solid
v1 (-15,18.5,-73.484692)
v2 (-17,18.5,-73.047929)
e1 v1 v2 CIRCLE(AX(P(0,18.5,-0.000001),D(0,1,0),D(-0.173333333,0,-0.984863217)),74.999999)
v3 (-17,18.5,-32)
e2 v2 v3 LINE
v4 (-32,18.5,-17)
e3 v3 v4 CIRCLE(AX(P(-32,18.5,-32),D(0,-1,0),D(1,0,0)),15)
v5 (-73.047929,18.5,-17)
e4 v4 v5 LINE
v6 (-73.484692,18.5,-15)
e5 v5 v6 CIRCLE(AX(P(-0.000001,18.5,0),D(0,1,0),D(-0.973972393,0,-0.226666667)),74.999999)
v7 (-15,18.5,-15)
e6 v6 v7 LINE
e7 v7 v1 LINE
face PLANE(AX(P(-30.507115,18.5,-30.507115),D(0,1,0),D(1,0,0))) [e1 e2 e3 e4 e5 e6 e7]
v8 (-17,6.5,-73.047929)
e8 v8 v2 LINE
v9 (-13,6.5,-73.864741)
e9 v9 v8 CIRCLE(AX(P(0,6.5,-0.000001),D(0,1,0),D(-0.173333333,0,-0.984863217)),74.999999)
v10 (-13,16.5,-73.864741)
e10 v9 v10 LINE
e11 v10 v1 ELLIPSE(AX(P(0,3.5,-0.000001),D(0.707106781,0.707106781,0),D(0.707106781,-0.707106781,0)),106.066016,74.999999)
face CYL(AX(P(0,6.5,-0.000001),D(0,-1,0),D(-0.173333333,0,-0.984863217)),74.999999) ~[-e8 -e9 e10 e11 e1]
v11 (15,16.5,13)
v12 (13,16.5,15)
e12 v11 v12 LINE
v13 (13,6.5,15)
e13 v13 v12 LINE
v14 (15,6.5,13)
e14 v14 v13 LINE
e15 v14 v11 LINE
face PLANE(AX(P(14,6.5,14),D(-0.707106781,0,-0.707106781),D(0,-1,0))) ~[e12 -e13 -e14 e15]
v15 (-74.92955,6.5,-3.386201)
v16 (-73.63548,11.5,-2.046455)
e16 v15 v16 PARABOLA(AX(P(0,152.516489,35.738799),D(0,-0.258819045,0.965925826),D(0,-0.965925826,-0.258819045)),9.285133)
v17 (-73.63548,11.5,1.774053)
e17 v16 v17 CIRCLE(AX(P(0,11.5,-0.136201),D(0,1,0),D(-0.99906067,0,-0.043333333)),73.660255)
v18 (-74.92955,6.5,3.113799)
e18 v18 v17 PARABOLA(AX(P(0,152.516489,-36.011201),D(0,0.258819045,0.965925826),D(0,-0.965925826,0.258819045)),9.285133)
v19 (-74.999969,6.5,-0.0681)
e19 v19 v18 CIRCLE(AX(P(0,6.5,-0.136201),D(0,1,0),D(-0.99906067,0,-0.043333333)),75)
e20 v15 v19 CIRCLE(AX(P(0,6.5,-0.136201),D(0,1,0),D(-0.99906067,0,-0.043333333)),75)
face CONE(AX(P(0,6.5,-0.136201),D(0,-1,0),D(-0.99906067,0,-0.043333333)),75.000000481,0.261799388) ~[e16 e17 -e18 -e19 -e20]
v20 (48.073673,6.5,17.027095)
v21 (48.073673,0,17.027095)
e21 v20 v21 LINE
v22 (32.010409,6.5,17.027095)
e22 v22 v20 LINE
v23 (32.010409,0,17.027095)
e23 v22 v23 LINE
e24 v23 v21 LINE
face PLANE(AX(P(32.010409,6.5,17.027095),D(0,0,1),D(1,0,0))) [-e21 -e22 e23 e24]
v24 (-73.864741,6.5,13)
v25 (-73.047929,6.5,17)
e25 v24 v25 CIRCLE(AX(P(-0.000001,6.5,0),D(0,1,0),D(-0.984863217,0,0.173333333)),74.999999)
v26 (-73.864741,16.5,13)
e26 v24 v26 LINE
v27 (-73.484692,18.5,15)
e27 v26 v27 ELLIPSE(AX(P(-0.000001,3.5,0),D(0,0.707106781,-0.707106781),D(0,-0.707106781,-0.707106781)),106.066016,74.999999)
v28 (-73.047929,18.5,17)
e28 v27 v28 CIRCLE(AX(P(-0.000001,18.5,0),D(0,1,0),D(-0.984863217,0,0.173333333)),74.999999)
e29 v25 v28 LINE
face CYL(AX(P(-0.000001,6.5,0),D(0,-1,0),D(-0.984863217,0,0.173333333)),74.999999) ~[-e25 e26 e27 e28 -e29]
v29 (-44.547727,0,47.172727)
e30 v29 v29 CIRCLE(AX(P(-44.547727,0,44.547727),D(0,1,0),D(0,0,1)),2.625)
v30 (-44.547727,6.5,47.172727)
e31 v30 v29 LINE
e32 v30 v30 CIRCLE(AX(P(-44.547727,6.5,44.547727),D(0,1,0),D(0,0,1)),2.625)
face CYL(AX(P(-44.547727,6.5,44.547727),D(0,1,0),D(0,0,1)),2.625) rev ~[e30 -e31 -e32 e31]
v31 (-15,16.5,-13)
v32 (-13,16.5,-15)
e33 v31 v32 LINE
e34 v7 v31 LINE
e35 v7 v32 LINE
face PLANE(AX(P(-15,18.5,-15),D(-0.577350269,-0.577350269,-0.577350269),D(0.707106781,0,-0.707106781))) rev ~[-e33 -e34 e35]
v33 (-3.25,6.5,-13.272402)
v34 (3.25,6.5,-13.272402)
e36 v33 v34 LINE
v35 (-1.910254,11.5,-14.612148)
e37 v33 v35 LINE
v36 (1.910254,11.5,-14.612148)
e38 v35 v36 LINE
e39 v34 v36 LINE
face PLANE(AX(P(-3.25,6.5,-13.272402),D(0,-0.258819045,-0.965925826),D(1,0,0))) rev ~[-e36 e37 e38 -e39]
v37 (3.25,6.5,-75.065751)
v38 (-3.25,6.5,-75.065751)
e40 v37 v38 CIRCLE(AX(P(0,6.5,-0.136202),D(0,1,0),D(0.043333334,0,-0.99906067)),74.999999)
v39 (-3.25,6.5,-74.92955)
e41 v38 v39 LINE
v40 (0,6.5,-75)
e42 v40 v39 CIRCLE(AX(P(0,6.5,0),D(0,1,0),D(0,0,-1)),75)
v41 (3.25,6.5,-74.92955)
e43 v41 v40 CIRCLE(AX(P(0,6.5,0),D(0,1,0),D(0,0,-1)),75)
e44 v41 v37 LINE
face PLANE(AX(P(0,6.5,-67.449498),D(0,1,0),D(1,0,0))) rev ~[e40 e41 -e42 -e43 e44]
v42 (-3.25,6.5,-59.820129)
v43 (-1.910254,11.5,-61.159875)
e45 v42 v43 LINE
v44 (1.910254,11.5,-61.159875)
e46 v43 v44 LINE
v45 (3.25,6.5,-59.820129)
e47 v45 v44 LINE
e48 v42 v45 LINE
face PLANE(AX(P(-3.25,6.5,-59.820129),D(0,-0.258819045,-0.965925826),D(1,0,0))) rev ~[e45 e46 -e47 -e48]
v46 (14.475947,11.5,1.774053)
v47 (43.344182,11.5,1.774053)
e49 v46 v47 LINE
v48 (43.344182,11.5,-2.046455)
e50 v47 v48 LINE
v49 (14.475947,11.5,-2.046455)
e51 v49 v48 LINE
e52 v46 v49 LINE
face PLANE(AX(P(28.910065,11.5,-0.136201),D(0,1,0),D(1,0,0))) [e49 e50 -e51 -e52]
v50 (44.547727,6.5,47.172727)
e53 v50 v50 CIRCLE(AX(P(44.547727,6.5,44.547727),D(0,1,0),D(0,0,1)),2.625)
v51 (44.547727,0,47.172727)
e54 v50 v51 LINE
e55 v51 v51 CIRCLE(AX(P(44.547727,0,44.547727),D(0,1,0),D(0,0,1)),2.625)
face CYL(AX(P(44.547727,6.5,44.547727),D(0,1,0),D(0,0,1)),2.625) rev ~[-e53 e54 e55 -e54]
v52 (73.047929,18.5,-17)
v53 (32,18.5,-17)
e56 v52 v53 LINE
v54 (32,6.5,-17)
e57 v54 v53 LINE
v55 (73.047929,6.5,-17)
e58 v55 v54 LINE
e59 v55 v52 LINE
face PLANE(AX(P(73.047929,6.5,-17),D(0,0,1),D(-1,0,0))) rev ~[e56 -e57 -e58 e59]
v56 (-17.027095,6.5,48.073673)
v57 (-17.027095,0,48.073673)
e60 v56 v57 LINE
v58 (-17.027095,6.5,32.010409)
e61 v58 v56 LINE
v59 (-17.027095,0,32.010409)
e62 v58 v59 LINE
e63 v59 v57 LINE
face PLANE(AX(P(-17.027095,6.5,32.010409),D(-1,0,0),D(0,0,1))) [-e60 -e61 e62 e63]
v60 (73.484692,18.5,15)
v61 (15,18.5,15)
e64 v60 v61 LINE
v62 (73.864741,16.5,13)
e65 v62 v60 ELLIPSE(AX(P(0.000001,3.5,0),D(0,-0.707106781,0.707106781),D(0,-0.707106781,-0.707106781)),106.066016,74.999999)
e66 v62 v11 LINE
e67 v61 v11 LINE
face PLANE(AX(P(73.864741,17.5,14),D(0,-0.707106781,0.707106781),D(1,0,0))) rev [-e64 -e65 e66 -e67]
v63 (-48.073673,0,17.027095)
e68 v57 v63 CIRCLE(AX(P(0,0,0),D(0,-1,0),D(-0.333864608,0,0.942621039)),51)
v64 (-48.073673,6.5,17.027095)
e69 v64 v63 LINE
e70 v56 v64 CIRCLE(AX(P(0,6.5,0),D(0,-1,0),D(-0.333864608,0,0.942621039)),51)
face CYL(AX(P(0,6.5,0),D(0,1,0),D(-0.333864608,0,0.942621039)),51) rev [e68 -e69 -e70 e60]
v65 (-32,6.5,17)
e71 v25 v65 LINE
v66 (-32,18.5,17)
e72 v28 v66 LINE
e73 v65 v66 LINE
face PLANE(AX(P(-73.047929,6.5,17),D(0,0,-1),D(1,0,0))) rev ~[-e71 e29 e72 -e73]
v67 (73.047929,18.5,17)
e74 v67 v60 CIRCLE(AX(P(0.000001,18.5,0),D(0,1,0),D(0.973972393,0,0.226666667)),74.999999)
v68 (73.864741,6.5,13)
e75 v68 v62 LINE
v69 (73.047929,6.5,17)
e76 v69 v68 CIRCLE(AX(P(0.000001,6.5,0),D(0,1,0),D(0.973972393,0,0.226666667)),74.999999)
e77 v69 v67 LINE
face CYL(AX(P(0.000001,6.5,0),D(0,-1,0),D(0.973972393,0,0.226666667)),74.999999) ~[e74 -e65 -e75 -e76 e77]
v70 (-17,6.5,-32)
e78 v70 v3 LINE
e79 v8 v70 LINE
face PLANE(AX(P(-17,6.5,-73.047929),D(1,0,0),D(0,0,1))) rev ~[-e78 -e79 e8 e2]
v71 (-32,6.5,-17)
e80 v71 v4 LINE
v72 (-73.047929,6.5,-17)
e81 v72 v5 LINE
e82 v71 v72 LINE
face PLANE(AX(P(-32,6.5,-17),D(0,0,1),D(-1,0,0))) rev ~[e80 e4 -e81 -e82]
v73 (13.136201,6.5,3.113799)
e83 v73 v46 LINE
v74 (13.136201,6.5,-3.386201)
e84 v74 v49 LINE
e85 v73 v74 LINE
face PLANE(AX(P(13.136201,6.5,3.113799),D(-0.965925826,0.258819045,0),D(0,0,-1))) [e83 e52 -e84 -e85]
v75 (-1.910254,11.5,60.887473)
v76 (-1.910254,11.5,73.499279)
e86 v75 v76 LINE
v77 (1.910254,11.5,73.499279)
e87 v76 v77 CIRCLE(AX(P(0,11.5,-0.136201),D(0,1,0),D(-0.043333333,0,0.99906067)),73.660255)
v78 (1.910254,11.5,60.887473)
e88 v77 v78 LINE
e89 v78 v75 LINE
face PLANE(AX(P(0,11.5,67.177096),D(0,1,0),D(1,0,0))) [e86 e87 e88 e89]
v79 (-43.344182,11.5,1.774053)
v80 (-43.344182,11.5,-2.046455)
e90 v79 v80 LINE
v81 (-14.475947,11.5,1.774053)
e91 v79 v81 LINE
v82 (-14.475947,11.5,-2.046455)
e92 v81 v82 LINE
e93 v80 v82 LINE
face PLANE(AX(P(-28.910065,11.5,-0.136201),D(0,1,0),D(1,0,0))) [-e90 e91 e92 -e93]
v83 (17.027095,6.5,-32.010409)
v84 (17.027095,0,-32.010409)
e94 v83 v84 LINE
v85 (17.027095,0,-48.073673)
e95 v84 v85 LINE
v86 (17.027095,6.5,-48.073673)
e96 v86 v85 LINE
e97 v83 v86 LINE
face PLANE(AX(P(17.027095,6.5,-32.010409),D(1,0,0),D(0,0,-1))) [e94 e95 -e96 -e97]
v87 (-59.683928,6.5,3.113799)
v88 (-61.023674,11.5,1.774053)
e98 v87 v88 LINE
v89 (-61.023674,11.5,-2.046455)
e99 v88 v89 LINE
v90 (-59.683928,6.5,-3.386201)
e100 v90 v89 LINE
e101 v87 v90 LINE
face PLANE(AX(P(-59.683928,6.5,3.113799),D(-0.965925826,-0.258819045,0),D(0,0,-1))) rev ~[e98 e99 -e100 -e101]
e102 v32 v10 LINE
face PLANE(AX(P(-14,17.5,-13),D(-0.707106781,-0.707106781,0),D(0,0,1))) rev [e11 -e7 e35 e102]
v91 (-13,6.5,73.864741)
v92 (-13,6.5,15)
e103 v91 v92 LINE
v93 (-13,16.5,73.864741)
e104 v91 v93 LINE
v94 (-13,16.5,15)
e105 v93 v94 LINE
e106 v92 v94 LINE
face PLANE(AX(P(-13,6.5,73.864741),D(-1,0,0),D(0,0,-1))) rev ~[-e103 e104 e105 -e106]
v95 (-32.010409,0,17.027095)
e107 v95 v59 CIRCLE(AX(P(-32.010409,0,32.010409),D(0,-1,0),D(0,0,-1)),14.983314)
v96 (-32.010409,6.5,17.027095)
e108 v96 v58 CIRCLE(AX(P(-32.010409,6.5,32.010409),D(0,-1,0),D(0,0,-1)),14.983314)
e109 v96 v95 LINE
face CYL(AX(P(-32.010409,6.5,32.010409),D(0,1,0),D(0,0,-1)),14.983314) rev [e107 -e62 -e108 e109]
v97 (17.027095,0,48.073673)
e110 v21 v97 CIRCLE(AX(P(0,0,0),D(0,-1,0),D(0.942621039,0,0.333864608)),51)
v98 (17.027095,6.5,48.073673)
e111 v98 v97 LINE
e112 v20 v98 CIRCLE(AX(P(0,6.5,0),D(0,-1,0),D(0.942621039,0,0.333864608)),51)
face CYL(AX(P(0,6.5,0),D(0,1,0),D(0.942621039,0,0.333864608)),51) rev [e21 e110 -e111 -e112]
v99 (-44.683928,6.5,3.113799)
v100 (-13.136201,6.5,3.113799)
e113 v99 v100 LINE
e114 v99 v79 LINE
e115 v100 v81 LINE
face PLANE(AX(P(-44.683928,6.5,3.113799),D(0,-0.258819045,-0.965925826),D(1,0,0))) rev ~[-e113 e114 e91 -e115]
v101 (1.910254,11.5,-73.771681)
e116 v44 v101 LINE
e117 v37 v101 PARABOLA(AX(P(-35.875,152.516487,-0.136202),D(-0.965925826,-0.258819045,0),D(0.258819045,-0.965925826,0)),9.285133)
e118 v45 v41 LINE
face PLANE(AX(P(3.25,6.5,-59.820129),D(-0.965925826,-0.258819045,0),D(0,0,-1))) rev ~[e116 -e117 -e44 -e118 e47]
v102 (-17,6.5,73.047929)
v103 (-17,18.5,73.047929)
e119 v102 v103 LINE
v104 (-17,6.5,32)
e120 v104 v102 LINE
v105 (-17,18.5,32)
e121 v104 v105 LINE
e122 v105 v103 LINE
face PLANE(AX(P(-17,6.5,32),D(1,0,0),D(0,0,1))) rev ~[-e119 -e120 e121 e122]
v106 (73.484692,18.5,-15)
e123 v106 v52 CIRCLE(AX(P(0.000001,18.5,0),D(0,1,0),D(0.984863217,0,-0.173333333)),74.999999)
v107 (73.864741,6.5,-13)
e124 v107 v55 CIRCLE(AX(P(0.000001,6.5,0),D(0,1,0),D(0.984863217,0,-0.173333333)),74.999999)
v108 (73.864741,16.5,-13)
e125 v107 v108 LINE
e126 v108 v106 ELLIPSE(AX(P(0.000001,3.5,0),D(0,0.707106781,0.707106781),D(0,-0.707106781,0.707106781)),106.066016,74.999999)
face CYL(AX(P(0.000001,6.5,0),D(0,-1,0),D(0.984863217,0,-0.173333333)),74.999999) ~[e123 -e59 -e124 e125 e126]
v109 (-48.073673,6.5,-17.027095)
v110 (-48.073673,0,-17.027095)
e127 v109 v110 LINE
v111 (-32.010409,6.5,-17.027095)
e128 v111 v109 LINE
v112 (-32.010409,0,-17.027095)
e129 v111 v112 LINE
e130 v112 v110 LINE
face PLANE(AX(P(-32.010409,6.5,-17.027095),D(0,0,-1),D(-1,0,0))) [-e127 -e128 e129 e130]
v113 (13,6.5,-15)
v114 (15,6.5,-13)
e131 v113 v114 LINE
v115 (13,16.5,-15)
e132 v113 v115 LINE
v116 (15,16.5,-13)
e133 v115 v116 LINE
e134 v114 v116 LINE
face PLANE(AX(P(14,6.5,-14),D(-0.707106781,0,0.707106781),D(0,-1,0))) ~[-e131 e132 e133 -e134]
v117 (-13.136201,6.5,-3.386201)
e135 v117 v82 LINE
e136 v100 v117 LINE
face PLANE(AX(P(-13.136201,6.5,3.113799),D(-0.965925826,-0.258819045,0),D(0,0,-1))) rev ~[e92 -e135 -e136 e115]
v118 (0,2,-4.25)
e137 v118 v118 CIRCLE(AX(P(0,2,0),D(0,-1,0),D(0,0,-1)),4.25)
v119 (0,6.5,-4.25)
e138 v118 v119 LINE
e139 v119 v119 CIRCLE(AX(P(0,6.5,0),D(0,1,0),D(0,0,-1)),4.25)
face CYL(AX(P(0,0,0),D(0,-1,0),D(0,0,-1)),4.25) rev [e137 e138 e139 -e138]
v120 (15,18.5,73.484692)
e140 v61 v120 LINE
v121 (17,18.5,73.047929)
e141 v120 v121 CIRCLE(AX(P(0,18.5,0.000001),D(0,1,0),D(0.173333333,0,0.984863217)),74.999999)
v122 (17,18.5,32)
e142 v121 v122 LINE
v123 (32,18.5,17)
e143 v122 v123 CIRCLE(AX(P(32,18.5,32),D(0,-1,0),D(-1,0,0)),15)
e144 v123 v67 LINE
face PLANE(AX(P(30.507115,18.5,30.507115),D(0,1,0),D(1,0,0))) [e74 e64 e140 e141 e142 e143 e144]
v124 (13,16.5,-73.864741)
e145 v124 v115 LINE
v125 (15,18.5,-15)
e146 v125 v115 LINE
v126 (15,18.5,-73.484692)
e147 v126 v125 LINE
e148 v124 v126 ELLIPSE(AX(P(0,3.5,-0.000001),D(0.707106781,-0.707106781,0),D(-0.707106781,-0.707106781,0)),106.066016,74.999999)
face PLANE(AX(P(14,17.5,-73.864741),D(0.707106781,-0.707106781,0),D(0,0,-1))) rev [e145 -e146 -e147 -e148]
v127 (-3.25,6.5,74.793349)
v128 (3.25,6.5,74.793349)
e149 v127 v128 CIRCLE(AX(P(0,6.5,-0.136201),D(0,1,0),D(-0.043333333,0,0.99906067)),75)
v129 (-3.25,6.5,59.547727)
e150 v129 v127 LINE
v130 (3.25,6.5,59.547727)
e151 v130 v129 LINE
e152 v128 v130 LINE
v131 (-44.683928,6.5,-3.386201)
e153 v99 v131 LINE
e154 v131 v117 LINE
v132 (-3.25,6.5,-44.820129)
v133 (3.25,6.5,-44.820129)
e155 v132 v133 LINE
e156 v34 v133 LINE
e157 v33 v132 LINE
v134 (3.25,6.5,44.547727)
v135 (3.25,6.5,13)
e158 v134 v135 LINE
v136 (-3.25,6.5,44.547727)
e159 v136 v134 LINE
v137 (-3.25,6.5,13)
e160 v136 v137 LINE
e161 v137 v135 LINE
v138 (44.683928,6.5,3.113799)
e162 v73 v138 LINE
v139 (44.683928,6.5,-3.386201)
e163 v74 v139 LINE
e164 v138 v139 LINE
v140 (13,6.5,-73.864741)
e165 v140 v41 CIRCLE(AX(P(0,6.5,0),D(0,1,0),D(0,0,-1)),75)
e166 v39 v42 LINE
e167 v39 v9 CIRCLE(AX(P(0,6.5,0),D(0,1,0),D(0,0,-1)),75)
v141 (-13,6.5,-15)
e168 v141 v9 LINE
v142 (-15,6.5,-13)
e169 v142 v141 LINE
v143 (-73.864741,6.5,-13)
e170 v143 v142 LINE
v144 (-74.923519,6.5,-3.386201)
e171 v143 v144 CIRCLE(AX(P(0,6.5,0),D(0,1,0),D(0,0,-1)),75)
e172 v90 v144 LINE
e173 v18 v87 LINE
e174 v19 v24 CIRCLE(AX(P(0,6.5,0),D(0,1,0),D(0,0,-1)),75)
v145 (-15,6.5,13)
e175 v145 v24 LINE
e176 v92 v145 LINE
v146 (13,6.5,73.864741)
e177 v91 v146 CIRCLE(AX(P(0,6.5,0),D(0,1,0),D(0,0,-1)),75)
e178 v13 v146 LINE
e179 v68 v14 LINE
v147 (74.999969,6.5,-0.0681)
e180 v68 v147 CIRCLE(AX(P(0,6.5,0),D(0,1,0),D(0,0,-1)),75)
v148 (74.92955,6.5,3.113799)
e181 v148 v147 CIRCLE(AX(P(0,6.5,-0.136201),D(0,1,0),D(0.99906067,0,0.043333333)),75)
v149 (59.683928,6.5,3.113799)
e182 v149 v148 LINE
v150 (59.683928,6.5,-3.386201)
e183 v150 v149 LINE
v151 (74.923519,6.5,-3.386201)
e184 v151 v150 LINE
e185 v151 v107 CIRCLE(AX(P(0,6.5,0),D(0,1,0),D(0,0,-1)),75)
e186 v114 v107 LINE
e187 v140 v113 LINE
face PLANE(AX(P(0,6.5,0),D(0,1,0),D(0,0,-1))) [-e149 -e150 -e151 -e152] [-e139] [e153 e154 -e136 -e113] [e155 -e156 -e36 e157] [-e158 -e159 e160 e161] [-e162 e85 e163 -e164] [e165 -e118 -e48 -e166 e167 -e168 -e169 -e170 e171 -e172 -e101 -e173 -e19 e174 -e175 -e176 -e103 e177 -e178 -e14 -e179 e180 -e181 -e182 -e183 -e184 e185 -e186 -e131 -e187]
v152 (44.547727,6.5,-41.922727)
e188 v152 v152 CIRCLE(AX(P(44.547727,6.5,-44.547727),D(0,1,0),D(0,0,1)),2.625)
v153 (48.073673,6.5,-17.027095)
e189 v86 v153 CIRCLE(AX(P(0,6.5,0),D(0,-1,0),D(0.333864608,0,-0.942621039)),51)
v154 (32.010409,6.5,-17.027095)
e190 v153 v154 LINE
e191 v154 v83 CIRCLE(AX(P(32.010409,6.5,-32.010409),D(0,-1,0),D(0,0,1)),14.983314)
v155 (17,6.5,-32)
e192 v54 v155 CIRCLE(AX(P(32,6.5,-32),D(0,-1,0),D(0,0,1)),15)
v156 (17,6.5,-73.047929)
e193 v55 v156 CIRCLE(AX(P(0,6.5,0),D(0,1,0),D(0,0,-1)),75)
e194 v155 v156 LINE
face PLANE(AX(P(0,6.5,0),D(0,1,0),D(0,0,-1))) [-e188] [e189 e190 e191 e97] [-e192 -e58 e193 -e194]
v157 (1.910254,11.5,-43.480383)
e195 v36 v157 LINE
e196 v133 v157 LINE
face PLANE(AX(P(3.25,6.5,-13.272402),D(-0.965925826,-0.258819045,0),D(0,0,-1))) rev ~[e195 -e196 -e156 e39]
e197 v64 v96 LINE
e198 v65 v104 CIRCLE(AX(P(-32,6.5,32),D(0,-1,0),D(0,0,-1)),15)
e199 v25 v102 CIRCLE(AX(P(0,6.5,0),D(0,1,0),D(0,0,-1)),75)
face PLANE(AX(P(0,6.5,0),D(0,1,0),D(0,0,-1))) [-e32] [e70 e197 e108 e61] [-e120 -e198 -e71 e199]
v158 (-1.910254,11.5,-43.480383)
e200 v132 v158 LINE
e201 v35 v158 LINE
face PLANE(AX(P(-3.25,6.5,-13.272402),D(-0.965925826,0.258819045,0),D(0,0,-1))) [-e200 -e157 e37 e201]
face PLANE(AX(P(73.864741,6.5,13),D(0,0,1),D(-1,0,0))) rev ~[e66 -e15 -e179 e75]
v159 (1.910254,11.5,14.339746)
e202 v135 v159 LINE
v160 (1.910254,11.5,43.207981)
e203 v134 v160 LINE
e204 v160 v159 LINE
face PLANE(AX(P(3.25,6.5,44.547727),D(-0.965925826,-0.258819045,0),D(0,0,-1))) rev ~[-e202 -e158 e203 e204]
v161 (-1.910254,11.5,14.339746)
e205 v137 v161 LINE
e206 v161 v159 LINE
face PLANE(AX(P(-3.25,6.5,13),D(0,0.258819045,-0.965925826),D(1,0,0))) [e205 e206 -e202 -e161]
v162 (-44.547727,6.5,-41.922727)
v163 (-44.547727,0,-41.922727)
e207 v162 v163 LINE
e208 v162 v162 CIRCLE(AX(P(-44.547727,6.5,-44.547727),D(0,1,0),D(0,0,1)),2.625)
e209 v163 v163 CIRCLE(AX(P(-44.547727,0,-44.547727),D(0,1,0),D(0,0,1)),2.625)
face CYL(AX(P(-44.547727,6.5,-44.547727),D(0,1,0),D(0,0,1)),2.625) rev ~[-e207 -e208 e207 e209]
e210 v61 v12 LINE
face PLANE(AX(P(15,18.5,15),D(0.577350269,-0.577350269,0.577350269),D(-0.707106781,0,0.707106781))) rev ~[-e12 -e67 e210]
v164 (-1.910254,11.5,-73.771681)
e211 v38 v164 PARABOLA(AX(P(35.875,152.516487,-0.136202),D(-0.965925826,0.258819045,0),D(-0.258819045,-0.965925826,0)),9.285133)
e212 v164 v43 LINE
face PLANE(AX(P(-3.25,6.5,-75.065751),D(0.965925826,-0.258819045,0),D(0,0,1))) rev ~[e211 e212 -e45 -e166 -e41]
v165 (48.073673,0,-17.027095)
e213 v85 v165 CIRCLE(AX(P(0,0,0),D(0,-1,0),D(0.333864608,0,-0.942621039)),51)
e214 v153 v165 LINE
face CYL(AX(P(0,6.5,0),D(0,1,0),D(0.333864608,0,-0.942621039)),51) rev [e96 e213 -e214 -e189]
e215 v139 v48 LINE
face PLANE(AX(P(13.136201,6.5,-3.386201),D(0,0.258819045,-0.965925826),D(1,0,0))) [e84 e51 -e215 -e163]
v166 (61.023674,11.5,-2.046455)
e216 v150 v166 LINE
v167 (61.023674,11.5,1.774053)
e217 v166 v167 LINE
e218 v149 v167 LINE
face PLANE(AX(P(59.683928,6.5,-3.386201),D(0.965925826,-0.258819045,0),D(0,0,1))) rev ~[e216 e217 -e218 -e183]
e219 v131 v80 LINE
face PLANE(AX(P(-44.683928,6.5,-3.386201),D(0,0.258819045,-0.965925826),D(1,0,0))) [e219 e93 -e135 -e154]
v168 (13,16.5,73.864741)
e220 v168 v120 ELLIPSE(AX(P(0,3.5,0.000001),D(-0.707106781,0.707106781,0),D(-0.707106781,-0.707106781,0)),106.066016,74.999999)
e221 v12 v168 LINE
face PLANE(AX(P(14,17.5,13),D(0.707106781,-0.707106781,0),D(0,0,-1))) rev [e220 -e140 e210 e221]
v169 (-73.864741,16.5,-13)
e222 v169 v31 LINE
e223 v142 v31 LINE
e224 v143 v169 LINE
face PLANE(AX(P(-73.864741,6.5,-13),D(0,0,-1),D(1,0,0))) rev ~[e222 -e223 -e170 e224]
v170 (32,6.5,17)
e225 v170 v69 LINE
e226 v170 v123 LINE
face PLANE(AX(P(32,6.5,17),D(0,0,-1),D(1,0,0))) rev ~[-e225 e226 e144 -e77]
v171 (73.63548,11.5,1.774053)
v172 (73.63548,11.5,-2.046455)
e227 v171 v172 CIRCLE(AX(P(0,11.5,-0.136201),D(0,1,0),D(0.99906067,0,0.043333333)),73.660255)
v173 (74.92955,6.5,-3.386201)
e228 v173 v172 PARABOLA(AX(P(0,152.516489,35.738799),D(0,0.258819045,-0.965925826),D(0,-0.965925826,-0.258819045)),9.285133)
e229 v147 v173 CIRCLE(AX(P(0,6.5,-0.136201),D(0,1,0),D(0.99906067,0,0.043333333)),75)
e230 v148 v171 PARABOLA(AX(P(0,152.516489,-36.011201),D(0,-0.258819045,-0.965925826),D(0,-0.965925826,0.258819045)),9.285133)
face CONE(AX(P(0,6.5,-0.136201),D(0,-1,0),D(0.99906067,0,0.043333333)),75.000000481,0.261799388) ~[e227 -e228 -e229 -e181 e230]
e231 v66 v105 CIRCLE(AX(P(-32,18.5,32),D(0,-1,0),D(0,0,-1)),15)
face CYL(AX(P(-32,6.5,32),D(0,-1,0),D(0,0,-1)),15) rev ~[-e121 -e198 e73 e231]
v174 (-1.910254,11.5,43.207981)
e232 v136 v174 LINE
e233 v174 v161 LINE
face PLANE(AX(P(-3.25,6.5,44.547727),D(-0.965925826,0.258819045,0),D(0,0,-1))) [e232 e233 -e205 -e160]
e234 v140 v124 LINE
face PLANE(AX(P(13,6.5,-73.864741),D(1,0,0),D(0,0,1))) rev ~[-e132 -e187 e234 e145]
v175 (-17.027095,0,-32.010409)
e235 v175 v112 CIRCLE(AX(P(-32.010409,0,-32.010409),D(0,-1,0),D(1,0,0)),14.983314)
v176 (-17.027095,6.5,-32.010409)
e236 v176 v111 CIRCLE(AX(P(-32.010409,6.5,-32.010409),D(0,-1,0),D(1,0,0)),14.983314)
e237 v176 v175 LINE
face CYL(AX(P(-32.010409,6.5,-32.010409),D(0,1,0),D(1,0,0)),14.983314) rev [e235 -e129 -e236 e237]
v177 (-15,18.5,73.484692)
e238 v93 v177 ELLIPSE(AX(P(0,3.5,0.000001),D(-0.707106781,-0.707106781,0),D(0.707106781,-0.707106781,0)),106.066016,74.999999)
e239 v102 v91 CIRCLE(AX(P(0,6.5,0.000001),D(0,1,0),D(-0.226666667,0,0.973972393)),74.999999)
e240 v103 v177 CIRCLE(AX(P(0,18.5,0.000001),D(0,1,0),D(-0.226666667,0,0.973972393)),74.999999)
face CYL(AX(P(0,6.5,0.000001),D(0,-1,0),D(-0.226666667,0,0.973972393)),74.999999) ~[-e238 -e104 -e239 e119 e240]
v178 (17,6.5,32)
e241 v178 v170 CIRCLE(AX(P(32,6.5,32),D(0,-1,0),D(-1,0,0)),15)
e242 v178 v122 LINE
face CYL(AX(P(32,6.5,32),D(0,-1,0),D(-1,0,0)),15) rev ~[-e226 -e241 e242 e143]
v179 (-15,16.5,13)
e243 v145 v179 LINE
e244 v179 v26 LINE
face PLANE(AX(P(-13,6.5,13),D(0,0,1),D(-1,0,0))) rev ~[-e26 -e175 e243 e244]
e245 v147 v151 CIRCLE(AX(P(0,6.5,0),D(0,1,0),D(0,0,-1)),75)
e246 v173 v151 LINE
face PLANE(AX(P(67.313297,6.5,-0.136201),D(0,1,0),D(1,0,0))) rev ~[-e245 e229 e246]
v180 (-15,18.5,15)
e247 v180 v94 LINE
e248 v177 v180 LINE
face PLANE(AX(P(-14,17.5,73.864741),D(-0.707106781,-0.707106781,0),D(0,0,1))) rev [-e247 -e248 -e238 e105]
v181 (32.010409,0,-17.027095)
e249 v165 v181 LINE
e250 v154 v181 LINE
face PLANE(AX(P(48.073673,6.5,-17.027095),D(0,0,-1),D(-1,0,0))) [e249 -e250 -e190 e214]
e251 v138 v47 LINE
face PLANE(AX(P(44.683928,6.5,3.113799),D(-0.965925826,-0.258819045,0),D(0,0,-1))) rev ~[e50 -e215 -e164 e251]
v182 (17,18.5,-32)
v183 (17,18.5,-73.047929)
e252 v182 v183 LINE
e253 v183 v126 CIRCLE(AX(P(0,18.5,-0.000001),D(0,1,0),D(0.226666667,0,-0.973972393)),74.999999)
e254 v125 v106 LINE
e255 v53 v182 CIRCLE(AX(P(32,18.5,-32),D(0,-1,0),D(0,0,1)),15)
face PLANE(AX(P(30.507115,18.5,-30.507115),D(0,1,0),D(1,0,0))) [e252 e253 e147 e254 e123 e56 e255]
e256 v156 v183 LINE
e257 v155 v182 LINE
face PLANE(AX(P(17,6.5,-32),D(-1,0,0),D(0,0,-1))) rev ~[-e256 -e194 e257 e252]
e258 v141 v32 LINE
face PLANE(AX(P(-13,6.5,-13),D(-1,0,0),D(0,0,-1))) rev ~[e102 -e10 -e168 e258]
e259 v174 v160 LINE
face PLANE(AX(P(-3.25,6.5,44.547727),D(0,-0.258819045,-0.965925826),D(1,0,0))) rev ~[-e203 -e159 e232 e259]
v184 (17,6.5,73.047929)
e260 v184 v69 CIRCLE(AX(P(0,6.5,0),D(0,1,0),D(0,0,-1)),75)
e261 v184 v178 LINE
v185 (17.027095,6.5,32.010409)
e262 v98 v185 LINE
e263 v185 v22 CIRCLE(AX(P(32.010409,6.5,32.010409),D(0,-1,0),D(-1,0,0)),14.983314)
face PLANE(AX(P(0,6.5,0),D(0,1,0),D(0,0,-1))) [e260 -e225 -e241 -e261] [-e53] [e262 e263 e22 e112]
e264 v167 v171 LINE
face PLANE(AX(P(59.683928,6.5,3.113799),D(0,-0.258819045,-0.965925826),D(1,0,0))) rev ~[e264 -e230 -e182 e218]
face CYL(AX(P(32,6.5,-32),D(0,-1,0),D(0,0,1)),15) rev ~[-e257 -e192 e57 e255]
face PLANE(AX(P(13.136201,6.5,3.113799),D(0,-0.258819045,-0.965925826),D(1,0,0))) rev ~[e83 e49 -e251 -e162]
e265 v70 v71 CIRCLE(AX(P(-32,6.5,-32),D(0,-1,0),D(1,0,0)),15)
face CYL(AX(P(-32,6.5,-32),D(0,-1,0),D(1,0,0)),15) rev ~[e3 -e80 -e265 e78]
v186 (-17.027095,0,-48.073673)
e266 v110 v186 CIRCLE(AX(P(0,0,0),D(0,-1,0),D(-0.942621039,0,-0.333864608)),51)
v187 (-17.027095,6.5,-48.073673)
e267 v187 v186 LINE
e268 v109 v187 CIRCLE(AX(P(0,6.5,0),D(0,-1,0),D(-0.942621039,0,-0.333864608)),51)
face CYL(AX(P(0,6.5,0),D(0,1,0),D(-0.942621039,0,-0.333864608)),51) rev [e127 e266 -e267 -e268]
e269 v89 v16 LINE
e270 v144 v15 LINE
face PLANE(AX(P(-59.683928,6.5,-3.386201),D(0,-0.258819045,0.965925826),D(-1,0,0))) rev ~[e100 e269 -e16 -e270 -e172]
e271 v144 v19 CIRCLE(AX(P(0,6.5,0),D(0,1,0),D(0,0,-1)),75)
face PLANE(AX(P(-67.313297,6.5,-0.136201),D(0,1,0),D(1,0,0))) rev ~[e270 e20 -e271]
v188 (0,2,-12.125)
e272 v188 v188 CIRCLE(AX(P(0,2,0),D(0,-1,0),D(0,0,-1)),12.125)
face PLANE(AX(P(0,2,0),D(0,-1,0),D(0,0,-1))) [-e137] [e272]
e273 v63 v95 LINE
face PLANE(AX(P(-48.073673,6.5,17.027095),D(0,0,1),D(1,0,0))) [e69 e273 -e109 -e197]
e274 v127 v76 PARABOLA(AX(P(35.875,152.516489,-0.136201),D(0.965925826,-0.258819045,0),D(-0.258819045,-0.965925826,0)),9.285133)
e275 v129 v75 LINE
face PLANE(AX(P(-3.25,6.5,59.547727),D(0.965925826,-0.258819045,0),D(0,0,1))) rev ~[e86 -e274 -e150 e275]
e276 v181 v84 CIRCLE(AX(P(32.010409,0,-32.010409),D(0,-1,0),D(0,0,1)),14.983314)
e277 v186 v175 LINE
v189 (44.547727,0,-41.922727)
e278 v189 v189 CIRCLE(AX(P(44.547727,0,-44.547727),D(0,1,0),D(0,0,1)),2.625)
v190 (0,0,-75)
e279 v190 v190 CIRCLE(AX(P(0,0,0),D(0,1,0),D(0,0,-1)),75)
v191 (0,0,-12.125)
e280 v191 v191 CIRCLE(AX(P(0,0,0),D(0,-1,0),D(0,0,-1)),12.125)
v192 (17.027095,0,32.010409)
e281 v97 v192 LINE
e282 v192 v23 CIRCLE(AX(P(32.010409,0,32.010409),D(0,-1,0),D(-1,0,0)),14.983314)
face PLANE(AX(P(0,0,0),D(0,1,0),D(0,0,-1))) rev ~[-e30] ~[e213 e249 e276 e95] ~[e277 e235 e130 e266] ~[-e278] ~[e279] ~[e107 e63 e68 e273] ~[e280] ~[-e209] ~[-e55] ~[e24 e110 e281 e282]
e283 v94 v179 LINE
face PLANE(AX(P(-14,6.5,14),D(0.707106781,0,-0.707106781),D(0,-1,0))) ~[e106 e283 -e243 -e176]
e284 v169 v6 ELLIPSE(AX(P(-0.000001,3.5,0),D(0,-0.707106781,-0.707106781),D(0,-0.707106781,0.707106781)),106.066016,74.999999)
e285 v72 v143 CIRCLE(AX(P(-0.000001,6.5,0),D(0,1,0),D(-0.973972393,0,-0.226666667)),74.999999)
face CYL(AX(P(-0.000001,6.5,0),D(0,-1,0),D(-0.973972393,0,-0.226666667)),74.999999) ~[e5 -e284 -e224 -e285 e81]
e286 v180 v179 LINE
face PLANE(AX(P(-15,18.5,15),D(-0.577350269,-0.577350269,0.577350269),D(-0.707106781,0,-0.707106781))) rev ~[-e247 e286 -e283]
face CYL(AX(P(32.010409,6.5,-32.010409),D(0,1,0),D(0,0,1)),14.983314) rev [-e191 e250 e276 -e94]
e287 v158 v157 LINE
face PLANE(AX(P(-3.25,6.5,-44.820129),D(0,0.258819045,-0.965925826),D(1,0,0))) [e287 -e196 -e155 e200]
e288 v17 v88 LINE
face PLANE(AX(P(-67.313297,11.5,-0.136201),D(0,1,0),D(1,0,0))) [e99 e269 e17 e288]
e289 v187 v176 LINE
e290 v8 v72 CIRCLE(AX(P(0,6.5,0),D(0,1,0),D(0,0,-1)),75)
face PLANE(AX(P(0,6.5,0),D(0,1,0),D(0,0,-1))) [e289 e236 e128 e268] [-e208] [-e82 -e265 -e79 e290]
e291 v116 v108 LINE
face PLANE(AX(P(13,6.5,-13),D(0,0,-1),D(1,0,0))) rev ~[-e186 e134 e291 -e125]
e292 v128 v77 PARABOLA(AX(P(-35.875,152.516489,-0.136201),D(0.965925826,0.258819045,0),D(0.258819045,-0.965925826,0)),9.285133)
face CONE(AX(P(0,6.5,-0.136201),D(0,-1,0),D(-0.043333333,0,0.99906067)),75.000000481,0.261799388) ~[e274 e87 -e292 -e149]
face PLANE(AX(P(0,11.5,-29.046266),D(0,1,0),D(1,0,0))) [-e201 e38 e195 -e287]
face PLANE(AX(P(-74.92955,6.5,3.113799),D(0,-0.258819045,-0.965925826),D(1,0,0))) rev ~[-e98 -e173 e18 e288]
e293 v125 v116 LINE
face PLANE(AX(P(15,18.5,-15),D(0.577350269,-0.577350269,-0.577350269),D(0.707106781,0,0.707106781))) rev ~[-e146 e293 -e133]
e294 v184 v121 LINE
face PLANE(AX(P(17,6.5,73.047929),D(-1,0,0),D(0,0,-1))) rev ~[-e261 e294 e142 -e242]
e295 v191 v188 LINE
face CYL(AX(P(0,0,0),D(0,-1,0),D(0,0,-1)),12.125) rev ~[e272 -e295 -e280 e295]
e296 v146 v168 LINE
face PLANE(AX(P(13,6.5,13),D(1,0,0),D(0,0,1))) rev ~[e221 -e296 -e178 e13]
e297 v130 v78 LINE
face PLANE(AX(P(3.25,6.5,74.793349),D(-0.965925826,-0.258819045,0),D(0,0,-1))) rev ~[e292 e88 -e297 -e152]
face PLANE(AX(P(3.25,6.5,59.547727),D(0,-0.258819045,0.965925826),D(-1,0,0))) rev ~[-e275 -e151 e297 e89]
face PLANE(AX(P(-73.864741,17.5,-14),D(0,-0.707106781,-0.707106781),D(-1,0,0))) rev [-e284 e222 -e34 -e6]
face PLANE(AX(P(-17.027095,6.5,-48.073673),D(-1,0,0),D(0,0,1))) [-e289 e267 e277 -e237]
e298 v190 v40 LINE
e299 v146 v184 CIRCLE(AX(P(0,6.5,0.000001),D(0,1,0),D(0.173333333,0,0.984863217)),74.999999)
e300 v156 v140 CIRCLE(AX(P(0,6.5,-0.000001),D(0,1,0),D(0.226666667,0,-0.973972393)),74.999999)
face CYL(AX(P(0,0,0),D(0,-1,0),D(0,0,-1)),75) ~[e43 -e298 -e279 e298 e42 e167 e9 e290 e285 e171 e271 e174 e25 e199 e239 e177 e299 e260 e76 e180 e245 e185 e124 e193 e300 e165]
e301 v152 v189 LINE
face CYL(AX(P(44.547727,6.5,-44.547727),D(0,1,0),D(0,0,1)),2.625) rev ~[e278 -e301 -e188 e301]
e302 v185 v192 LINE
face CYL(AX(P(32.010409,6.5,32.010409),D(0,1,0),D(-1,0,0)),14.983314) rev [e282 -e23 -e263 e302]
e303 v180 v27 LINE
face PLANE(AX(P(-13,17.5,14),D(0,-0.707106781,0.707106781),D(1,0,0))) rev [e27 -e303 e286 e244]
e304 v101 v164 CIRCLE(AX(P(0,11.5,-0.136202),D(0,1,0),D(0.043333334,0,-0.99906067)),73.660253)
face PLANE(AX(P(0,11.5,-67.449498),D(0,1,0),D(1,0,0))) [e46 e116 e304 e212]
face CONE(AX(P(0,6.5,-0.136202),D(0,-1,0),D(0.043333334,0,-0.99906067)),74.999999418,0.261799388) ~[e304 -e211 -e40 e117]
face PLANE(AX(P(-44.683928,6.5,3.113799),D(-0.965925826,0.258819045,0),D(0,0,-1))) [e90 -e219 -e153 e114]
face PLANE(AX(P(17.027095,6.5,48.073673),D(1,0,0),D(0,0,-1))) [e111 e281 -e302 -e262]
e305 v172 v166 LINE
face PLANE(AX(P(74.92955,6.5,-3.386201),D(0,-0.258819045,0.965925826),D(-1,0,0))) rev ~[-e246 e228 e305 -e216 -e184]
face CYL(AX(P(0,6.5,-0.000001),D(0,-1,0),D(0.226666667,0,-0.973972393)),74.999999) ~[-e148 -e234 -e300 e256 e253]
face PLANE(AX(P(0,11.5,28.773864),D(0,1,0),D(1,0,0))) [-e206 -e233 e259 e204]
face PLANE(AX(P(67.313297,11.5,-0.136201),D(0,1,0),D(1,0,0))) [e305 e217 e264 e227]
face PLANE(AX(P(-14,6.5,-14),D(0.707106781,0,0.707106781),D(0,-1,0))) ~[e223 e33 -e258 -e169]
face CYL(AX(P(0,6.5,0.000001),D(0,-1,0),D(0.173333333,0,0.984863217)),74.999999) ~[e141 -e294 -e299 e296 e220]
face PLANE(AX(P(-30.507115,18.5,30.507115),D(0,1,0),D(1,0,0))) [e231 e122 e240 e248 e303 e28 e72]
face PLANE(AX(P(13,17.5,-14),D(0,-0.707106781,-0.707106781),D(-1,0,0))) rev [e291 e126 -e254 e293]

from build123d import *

# Parameters (mm, degrees)
SKETCH1_R                     = 75
SKETCH1_R_2                   = 4.25
BOSS_EXTRUDE1_DEPTH           = 6.5
BOSS_EXTRUDE2_DEPTH           = 12
CHAMFER1_SIZE                 = 2
CUT_EXTRUDE1_DEPTH            = 6.5
SKETCH4_R                     = 2.625
CUT_EXTRUDE2_DEPTH            = 6.5
SKETCH5_W                     = 31.547727215
SKETCH5_H                     = 6.5
BOSS_EXTRUDE3_DEPTH           = 5
BOSS_EXTRUDE3_DRAFT           = 15
BOSS_EXTRUDE3_PROFILE_2_DEPTH = 5
BOSS_EXTRUDE3_PROFILE_2_DRAFT = 15
SKETCH5_W_2                   = 6.5
SKETCH5_H_2                   = 31.547727215
BOSS_EXTRUDE3_PROFILE_3_DEPTH = 5
BOSS_EXTRUDE3_PROFILE_3_DRAFT = 15
BOSS_EXTRUDE3_PROFILE_4_DEPTH = 5
BOSS_EXTRUDE3_PROFILE_4_DRAFT = 15
BOSS_EXTRUDE3_PROFILE_5_DEPTH = 5
BOSS_EXTRUDE3_PROFILE_5_DRAFT = 15
BOSS_EXTRUDE3_PROFILE_6_DEPTH = 5
BOSS_EXTRUDE3_PROFILE_6_DRAFT = 15
BOSS_EXTRUDE3_PROFILE_7_DEPTH = 5
BOSS_EXTRUDE3_PROFILE_7_DRAFT = 15
BOSS_EXTRUDE3_PROFILE_8_DEPTH = 5
BOSS_EXTRUDE3_PROFILE_8_DRAFT = 15
SKETCH6_R                     = 12.125
CUT_EXTRUDE3_DEPTH            = 2


with BuildPart() as part:
    # Sketch1 → Boss-Extrude1 (new body)
    with BuildSketch(Plane(origin=(0, 0, 0), x_dir=(1, 0, 0), z_dir=(0, 1, 0))):
        with Locations(Location((0, 0, 0), (0, 0, 90))):
            Circle(SKETCH1_R)
        with Locations(Location((0, 0, 0), (0, 0, 90))):
            Circle(SKETCH1_R_2, mode=Mode.SUBTRACT)
    extrude(amount=BOSS_EXTRUDE1_DEPTH)

    # Sketch2 → Boss-Extrude2 (add)
    with BuildSketch(Plane(origin=(0, 6.5, 0), x_dir=(1, 0, 0), z_dir=(0, 1, 0))):
        with BuildLine():
            Line((-13, -13), (-73.86474125, -13))
            ThreePointArc((-73.86474125, -13), (-73.483557376, -15.005558816), (-73.047929471, -17))
            Line((-73.047929471, -17), (-32, -17))
            ThreePointArc((-32, -17), (-21.393398282, -21.393398282), (-17, -32))
            Line((-17, -32), (-17, -73.047929471))
            ThreePointArc((-17, -73.047929471), (-15.005558816, -73.483557376), (-13, -73.86474125))
            Line((-13, -73.86474125), (-13, -13))
        make_face()
        with BuildLine():
            Line((-32, 17), (-73.047929471, 17))
            ThreePointArc((-73.047929471, 17), (-73.483557376, 15.005558816), (-73.86474125, 13))
            Line((-73.86474125, 13), (-13, 13))
            Line((-13, 13), (-13, 73.86474125))
            ThreePointArc((-13, 73.86474125), (-15.005558816, 73.483557376), (-17, 73.047929471))
            Line((-17, 73.047929471), (-17, 32))
            ThreePointArc((-17, 32), (-21.393398282, 21.393398282), (-32, 17))
        make_face()
        with BuildLine():
            Line((17, 32), (17, 73.047929471))
            ThreePointArc((17, 73.047929471), (15.005558816, 73.483557376), (13, 73.86474125))
            Line((13, 73.86474125), (13, 13))
            Line((13, 13), (73.86474125, 13))
            ThreePointArc((73.86474125, 13), (73.483557376, 15.005558816), (73.047929471, 17))
            Line((73.047929471, 17), (32, 17))
            ThreePointArc((32, 17), (21.393398282, 21.393398282), (17, 32))
        make_face()
        with BuildLine():
            Line((32, -17), (73.047929471, -17))
            ThreePointArc((73.047929471, -17), (73.483557376, -15.005558816), (73.86474125, -13))
            Line((73.86474125, -13), (13, -13))
            Line((13, -13), (13, -73.86474125))
            ThreePointArc((13, -73.86474125), (15.005558816, -73.483557376), (17, -73.047929471))
            Line((17, -73.047929471), (17, -32))
            ThreePointArc((17, -32), (21.393398282, -21.393398282), (32, -17))
        make_face()
    extrude(amount=BOSS_EXTRUDE2_DEPTH)

    # Chamfer1
    chamfer1_edges = [part.edges().sort_by_distance(p)[0] for p in [
        (-13, 12.5, 13),
        (-13, 18.5, 43.432370625),
        (-43.432370625, 18.5, 13),
        (13, 12.5, 13),
        (43.432370625, 18.5, 13),
        (13, 18.5, 43.432370625),
        (-13, 12.5, -13),
        (-43.432370625, 18.5, -13),
        (-13, 18.5, -43.432370625),
        (13, 12.5, -13),
        (13, 18.5, -43.432370625),
        (43.432370625, 18.5, -13),
    ]]
    chamfer(chamfer1_edges, length=CHAMFER1_SIZE)

    # Sketch3 → Cut-Extrude1 (cut)
    with BuildSketch(Plane(origin=(0, 6.5, 0), x_dir=(1, 0, 0), z_dir=(0, 1, 0))):
        with BuildLine():
            Line((32.010408804, -17.027095026), (48.073672992, -17.027095026))
            ThreePointArc((48.073672992, -17.027095026), (36.062445841, -36.062445841), (17.027095026, -48.073672992))
            Line((17.027095026, -48.073672992), (17.027095026, -32.010408804))
            ThreePointArc((17.027095026, -32.010408804), (21.415606027, -21.415606027), (32.010408804, -17.027095026))
        make_face()
        with BuildLine():
            Line((-17.027095026, -32.010408804), (-17.027095026, -48.073672992))
            ThreePointArc((-17.027095026, -48.073672992), (-36.062445841, -36.062445841), (-48.073672992, -17.027095026))
            Line((-48.073672992, -17.027095026), (-32.010408804, -17.027095026))
            ThreePointArc((-32.010408804, -17.027095026), (-21.415606027, -21.415606027), (-17.027095026, -32.010408804))
        make_face()
        with BuildLine():
            Line((17.027095026, 32.010408804), (17.027095026, 48.073672992))
            ThreePointArc((17.027095026, 48.073672992), (36.062445841, 36.062445841), (48.073672992, 17.027095026))
            Line((48.073672992, 17.027095026), (32.010408804, 17.027095026))
            ThreePointArc((32.010408804, 17.027095026), (21.415606027, 21.415606027), (17.027095026, 32.010408804))
        make_face()
        with BuildLine():
            Line((-32.010408804, 17.027095026), (-48.073672992, 17.027095026))
            ThreePointArc((-48.073672992, 17.027095026), (-36.062445841, 36.062445841), (-17.027095026, 48.073672992))
            Line((-17.027095026, 48.073672992), (-17.027095026, 32.010408804))
            ThreePointArc((-17.027095026, 32.010408804), (-21.415606027, 21.415606027), (-32.010408804, 17.027095026))
        make_face()
    extrude(amount=-CUT_EXTRUDE1_DEPTH, mode=Mode.SUBTRACT)

    # Sketch4 → Cut-Extrude2 (cut)
    with BuildSketch(Plane(origin=(0, 6.5, 0), x_dir=(1, 0, 0), z_dir=(0, 1, 0))):
        with Locations(Location((44.547727215, -44.547727215, 0), (0, 0, 270))):
            Circle(SKETCH4_R)
        with Locations(Location((-44.547727215, -44.547727215, 0), (0, 0, 270))):
            Circle(SKETCH4_R)
        with Locations(Location((44.547727215, 44.547727215, 0), (0, 0, 270))):
            Circle(SKETCH4_R)
        with Locations(Location((-44.547727215, 44.547727215, 0), (0, 0, 270))):
            Circle(SKETCH4_R)
    extrude(amount=-CUT_EXTRUDE2_DEPTH, mode=Mode.SUBTRACT)


with BuildPart() as boss_extrude3_tool:
    # Sketch5 → Boss-Extrude3 (with draft: the straight prism first)
    with BuildSketch(Plane(origin=(0, 6.5, 0), x_dir=(1, 0, 0), z_dir=(0, 1, 0))):
        with Locations((-28.9100646, 0.136200992)):
            Rectangle(SKETCH5_W, SKETCH5_H)
    extrude(amount=BOSS_EXTRUDE3_DEPTH)
    # Boss-Extrude3: the draft: its side faces are tilted about the plane it starts from
    boss_extrude3_sides = [boss_extrude3_tool.faces().sort_by_distance(p)[0] for p in [
        (-44.683928207, 9, -0.136200992),
        (-28.910064599, 9, 3.113799008),
        (-13.136200992, 9, -0.136200992),
        (-28.910064599, 9, -3.386200992),
    ]]
    draft(boss_extrude3_sides, Plane(origin=(0, 6.5, 0), x_dir=(1, 0, 0), z_dir=(0, 1, 0)), BOSS_EXTRUDE3_DRAFT)


with BuildPart() as part_1:
    add(part.part)

    # Boss-Extrude3: add boss_extrude3_tool
    add(boss_extrude3_tool.part)


with BuildPart() as boss_extrude3_profile_2_tool:
    # Sketch5 → Boss-Extrude3 profile 2 (with draft: the straight prism first)
    with BuildSketch(Plane(origin=(0, 6.5, 0), x_dir=(1, 0, 0), z_dir=(0, 1, 0))):
        with BuildLine():
            ThreePointArc((-3.25, -74.793349254), (0, -74.863799008), (3.25, -74.793349254))
            Line((3.25, -74.793349254), (3.25, -59.547727215))
            Line((3.25, -59.547727215), (-3.25, -59.547727215))
            Line((-3.25, -59.547727215), (-3.25, -74.793349254))
        make_face()
    extrude(amount=BOSS_EXTRUDE3_PROFILE_2_DEPTH)
    # Boss-Extrude3 profile 2: the draft: its side faces are tilted about the plane it starts from
    boss_extrude3_profile_2_sides = [boss_extrude3_profile_2_tool.faces().sort_by_distance(p)[0] for p in [
        (0, 9, 74.863799008),
        (3.25, 9, 67.170538234),
        (0, 9, 59.547727215),
        (-3.25, 9, 67.170538234),
    ]]
    draft(boss_extrude3_profile_2_sides, Plane(origin=(0, 6.5, 0), x_dir=(1, 0, 0), z_dir=(0, 1, 0)), BOSS_EXTRUDE3_PROFILE_2_DRAFT)


with BuildPart() as part_2:
    add(part_1.part)

    # Boss-Extrude3 profile 2: add boss_extrude3_profile_2_tool
    add(boss_extrude3_profile_2_tool.part)


with BuildPart() as boss_extrude3_profile_3_tool:
    # Sketch5 → Boss-Extrude3 profile 3 (with draft: the straight prism first)
    with BuildSketch(Plane(origin=(0, 6.5, 0), x_dir=(1, 0, 0), z_dir=(0, 1, 0))):
        with Locations((0, -28.773863608)):
            Rectangle(SKETCH5_W_2, SKETCH5_H_2)
    extrude(amount=BOSS_EXTRUDE3_PROFILE_3_DEPTH)
    # Boss-Extrude3 profile 3: the draft: its side faces are tilted about the plane it starts from
    boss_extrude3_profile_3_sides = [boss_extrude3_profile_3_tool.faces().sort_by_distance(p)[0] for p in [
        (0, 9, 44.547727215),
        (3.25, 9, 28.773863607),
        (0, 9, 13),
        (-3.25, 9, 28.773863607),
    ]]
    draft(boss_extrude3_profile_3_sides, Plane(origin=(0, 6.5, 0), x_dir=(1, 0, 0), z_dir=(0, 1, 0)), BOSS_EXTRUDE3_PROFILE_3_DRAFT)


with BuildPart() as part_3:
    add(part_2.part)

    # Boss-Extrude3 profile 3: add boss_extrude3_profile_3_tool
    add(boss_extrude3_profile_3_tool.part)


with BuildPart() as boss_extrude3_profile_4_tool:
    # Sketch5 → Boss-Extrude3 profile 4 (with draft: the straight prism first)
    with BuildSketch(Plane(origin=(0, 6.5, 0), x_dir=(1, 0, 0), z_dir=(0, 1, 0))):
        with BuildLine():
            ThreePointArc((-74.929550246, 3.386200992), (-75, 0.136200992), (-74.929550246, -3.113799008))
            Line((-74.929550246, -3.113799008), (-59.683928207, -3.113799008))
            Line((-59.683928207, -3.113799008), (-59.683928207, 3.386200992))
            Line((-59.683928207, 3.386200992), (-74.929550246, 3.386200992))
        make_face()
    extrude(amount=BOSS_EXTRUDE3_PROFILE_4_DEPTH)
    # Boss-Extrude3 profile 4: the draft: its side faces are tilted about the plane it starts from
    boss_extrude3_profile_4_sides = [boss_extrude3_profile_4_tool.faces().sort_by_distance(p)[0] for p in [
        (-75, 9, -0.136200992),
        (-67.306739226, 9, 3.113799008),
        (-59.683928207, 9, -0.136200992),
        (-67.306739226, 9, -3.386200992),
    ]]
    draft(boss_extrude3_profile_4_sides, Plane(origin=(0, 6.5, 0), x_dir=(1, 0, 0), z_dir=(0, 1, 0)), BOSS_EXTRUDE3_PROFILE_4_DRAFT)


with BuildPart() as part_4:
    add(part_3.part)

    # Boss-Extrude3 profile 4: add boss_extrude3_profile_4_tool
    add(boss_extrude3_profile_4_tool.part)


with BuildPart() as boss_extrude3_profile_5_tool:
    # Sketch5 → Boss-Extrude3 profile 5 (with draft: the straight prism first)
    with BuildSketch(Plane(origin=(0, 6.5, 0), x_dir=(1, 0, 0), z_dir=(0, 1, 0))):
        with Locations((0, 29.046265591)):
            Rectangle(SKETCH5_W_2, SKETCH5_H_2)
    extrude(amount=BOSS_EXTRUDE3_PROFILE_5_DEPTH)
    # Boss-Extrude3 profile 5: the draft: its side faces are tilted about the plane it starts from
    boss_extrude3_profile_5_sides = [boss_extrude3_profile_5_tool.faces().sort_by_distance(p)[0] for p in [
        (0, 9, -44.820129199),
        (-3.25, 9, -29.046265591),
        (0, 9, -13.272401984),
        (3.25, 9, -29.046265591),
    ]]
    draft(boss_extrude3_profile_5_sides, Plane(origin=(0, 6.5, 0), x_dir=(1, 0, 0), z_dir=(0, 1, 0)), BOSS_EXTRUDE3_PROFILE_5_DRAFT)


with BuildPart() as part_5:
    add(part_4.part)

    # Boss-Extrude3 profile 5: add boss_extrude3_profile_5_tool
    add(boss_extrude3_profile_5_tool.part)


with BuildPart() as boss_extrude3_profile_6_tool:
    # Sketch5 → Boss-Extrude3 profile 6 (with draft: the straight prism first)
    with BuildSketch(Plane(origin=(0, 6.5, 0), x_dir=(1, 0, 0), z_dir=(0, 1, 0))):
        with BuildLine():
            ThreePointArc((3.25, 75.065751237), (0, 75.136200992), (-3.25, 75.065751237))
            Line((-3.25, 75.065751237), (-3.25, 59.820129199))
            Line((-3.25, 59.820129199), (3.25, 59.820129199))
            Line((3.25, 59.820129199), (3.25, 75.065751237))
        make_face()
    extrude(amount=BOSS_EXTRUDE3_PROFILE_6_DEPTH)
    # Boss-Extrude3 profile 6: the draft: its side faces are tilted about the plane it starts from
    boss_extrude3_profile_6_sides = [boss_extrude3_profile_6_tool.faces().sort_by_distance(p)[0] for p in [
        (0, 9, -75.136200992),
        (-3.25, 9, -67.442940218),
        (0, 9, -59.820129199),
        (3.25, 9, -67.442940218),
    ]]
    draft(boss_extrude3_profile_6_sides, Plane(origin=(0, 6.5, 0), x_dir=(1, 0, 0), z_dir=(0, 1, 0)), BOSS_EXTRUDE3_PROFILE_6_DRAFT)


with BuildPart() as part_6:
    add(part_5.part)

    # Boss-Extrude3 profile 6: add boss_extrude3_profile_6_tool
    add(boss_extrude3_profile_6_tool.part)


with BuildPart() as boss_extrude3_profile_7_tool:
    # Sketch5 → Boss-Extrude3 profile 7 (with draft: the straight prism first)
    with BuildSketch(Plane(origin=(0, 6.5, 0), x_dir=(1, 0, 0), z_dir=(0, 1, 0))):
        with Locations((28.9100646, 0.136200992)):
            Rectangle(SKETCH5_W, SKETCH5_H)
    extrude(amount=BOSS_EXTRUDE3_PROFILE_7_DEPTH)
    # Boss-Extrude3 profile 7: the draft: its side faces are tilted about the plane it starts from
    boss_extrude3_profile_7_sides = [boss_extrude3_profile_7_tool.faces().sort_by_distance(p)[0] for p in [
        (44.683928207, 9, -0.136200992),
        (28.910064599, 9, -3.386200992),
        (13.136200992, 9, -0.136200992),
        (28.910064599, 9, 3.113799008),
    ]]
    draft(boss_extrude3_profile_7_sides, Plane(origin=(0, 6.5, 0), x_dir=(1, 0, 0), z_dir=(0, 1, 0)), BOSS_EXTRUDE3_PROFILE_7_DRAFT)


with BuildPart() as part_7:
    add(part_6.part)

    # Boss-Extrude3 profile 7: add boss_extrude3_profile_7_tool
    add(boss_extrude3_profile_7_tool.part)


with BuildPart() as boss_extrude3_profile_8_tool:
    # Sketch5 → Boss-Extrude3 profile 8 (with draft: the straight prism first)
    with BuildSketch(Plane(origin=(0, 6.5, 0), x_dir=(1, 0, 0), z_dir=(0, 1, 0))):
        with BuildLine():
            ThreePointArc((74.929550246, -3.113799008), (75, 0.136200992), (74.929550246, 3.386200992))
            Line((74.929550246, 3.386200992), (59.683928207, 3.386200992))
            Line((59.683928207, 3.386200992), (59.683928207, -3.113799008))
            Line((59.683928207, -3.113799008), (74.929550246, -3.113799008))
        make_face()
    extrude(amount=BOSS_EXTRUDE3_PROFILE_8_DEPTH)
    # Boss-Extrude3 profile 8: the draft: its side faces are tilted about the plane it starts from
    boss_extrude3_profile_8_sides = [boss_extrude3_profile_8_tool.faces().sort_by_distance(p)[0] for p in [
        (75, 9, -0.136200992),
        (67.306739226, 9, -3.386200992),
        (59.683928207, 9, -0.136200992),
        (67.306739226, 9, 3.113799008),
    ]]
    draft(boss_extrude3_profile_8_sides, Plane(origin=(0, 6.5, 0), x_dir=(1, 0, 0), z_dir=(0, 1, 0)), BOSS_EXTRUDE3_PROFILE_8_DRAFT)


with BuildPart() as part_8:
    add(part_7.part)

    # Boss-Extrude3 profile 8: add boss_extrude3_profile_8_tool
    add(boss_extrude3_profile_8_tool.part)

    # Sketch6 → Cut-Extrude3 (cut)
    with BuildSketch(Plane.XZ):
        with Locations(Location((0, 0, 0), (0, 0, 270))):
            Circle(SKETCH6_R)
    extrude(amount=-CUT_EXTRUDE3_DEPTH, mode=Mode.SUBTRACT)


solid = part_8.part
